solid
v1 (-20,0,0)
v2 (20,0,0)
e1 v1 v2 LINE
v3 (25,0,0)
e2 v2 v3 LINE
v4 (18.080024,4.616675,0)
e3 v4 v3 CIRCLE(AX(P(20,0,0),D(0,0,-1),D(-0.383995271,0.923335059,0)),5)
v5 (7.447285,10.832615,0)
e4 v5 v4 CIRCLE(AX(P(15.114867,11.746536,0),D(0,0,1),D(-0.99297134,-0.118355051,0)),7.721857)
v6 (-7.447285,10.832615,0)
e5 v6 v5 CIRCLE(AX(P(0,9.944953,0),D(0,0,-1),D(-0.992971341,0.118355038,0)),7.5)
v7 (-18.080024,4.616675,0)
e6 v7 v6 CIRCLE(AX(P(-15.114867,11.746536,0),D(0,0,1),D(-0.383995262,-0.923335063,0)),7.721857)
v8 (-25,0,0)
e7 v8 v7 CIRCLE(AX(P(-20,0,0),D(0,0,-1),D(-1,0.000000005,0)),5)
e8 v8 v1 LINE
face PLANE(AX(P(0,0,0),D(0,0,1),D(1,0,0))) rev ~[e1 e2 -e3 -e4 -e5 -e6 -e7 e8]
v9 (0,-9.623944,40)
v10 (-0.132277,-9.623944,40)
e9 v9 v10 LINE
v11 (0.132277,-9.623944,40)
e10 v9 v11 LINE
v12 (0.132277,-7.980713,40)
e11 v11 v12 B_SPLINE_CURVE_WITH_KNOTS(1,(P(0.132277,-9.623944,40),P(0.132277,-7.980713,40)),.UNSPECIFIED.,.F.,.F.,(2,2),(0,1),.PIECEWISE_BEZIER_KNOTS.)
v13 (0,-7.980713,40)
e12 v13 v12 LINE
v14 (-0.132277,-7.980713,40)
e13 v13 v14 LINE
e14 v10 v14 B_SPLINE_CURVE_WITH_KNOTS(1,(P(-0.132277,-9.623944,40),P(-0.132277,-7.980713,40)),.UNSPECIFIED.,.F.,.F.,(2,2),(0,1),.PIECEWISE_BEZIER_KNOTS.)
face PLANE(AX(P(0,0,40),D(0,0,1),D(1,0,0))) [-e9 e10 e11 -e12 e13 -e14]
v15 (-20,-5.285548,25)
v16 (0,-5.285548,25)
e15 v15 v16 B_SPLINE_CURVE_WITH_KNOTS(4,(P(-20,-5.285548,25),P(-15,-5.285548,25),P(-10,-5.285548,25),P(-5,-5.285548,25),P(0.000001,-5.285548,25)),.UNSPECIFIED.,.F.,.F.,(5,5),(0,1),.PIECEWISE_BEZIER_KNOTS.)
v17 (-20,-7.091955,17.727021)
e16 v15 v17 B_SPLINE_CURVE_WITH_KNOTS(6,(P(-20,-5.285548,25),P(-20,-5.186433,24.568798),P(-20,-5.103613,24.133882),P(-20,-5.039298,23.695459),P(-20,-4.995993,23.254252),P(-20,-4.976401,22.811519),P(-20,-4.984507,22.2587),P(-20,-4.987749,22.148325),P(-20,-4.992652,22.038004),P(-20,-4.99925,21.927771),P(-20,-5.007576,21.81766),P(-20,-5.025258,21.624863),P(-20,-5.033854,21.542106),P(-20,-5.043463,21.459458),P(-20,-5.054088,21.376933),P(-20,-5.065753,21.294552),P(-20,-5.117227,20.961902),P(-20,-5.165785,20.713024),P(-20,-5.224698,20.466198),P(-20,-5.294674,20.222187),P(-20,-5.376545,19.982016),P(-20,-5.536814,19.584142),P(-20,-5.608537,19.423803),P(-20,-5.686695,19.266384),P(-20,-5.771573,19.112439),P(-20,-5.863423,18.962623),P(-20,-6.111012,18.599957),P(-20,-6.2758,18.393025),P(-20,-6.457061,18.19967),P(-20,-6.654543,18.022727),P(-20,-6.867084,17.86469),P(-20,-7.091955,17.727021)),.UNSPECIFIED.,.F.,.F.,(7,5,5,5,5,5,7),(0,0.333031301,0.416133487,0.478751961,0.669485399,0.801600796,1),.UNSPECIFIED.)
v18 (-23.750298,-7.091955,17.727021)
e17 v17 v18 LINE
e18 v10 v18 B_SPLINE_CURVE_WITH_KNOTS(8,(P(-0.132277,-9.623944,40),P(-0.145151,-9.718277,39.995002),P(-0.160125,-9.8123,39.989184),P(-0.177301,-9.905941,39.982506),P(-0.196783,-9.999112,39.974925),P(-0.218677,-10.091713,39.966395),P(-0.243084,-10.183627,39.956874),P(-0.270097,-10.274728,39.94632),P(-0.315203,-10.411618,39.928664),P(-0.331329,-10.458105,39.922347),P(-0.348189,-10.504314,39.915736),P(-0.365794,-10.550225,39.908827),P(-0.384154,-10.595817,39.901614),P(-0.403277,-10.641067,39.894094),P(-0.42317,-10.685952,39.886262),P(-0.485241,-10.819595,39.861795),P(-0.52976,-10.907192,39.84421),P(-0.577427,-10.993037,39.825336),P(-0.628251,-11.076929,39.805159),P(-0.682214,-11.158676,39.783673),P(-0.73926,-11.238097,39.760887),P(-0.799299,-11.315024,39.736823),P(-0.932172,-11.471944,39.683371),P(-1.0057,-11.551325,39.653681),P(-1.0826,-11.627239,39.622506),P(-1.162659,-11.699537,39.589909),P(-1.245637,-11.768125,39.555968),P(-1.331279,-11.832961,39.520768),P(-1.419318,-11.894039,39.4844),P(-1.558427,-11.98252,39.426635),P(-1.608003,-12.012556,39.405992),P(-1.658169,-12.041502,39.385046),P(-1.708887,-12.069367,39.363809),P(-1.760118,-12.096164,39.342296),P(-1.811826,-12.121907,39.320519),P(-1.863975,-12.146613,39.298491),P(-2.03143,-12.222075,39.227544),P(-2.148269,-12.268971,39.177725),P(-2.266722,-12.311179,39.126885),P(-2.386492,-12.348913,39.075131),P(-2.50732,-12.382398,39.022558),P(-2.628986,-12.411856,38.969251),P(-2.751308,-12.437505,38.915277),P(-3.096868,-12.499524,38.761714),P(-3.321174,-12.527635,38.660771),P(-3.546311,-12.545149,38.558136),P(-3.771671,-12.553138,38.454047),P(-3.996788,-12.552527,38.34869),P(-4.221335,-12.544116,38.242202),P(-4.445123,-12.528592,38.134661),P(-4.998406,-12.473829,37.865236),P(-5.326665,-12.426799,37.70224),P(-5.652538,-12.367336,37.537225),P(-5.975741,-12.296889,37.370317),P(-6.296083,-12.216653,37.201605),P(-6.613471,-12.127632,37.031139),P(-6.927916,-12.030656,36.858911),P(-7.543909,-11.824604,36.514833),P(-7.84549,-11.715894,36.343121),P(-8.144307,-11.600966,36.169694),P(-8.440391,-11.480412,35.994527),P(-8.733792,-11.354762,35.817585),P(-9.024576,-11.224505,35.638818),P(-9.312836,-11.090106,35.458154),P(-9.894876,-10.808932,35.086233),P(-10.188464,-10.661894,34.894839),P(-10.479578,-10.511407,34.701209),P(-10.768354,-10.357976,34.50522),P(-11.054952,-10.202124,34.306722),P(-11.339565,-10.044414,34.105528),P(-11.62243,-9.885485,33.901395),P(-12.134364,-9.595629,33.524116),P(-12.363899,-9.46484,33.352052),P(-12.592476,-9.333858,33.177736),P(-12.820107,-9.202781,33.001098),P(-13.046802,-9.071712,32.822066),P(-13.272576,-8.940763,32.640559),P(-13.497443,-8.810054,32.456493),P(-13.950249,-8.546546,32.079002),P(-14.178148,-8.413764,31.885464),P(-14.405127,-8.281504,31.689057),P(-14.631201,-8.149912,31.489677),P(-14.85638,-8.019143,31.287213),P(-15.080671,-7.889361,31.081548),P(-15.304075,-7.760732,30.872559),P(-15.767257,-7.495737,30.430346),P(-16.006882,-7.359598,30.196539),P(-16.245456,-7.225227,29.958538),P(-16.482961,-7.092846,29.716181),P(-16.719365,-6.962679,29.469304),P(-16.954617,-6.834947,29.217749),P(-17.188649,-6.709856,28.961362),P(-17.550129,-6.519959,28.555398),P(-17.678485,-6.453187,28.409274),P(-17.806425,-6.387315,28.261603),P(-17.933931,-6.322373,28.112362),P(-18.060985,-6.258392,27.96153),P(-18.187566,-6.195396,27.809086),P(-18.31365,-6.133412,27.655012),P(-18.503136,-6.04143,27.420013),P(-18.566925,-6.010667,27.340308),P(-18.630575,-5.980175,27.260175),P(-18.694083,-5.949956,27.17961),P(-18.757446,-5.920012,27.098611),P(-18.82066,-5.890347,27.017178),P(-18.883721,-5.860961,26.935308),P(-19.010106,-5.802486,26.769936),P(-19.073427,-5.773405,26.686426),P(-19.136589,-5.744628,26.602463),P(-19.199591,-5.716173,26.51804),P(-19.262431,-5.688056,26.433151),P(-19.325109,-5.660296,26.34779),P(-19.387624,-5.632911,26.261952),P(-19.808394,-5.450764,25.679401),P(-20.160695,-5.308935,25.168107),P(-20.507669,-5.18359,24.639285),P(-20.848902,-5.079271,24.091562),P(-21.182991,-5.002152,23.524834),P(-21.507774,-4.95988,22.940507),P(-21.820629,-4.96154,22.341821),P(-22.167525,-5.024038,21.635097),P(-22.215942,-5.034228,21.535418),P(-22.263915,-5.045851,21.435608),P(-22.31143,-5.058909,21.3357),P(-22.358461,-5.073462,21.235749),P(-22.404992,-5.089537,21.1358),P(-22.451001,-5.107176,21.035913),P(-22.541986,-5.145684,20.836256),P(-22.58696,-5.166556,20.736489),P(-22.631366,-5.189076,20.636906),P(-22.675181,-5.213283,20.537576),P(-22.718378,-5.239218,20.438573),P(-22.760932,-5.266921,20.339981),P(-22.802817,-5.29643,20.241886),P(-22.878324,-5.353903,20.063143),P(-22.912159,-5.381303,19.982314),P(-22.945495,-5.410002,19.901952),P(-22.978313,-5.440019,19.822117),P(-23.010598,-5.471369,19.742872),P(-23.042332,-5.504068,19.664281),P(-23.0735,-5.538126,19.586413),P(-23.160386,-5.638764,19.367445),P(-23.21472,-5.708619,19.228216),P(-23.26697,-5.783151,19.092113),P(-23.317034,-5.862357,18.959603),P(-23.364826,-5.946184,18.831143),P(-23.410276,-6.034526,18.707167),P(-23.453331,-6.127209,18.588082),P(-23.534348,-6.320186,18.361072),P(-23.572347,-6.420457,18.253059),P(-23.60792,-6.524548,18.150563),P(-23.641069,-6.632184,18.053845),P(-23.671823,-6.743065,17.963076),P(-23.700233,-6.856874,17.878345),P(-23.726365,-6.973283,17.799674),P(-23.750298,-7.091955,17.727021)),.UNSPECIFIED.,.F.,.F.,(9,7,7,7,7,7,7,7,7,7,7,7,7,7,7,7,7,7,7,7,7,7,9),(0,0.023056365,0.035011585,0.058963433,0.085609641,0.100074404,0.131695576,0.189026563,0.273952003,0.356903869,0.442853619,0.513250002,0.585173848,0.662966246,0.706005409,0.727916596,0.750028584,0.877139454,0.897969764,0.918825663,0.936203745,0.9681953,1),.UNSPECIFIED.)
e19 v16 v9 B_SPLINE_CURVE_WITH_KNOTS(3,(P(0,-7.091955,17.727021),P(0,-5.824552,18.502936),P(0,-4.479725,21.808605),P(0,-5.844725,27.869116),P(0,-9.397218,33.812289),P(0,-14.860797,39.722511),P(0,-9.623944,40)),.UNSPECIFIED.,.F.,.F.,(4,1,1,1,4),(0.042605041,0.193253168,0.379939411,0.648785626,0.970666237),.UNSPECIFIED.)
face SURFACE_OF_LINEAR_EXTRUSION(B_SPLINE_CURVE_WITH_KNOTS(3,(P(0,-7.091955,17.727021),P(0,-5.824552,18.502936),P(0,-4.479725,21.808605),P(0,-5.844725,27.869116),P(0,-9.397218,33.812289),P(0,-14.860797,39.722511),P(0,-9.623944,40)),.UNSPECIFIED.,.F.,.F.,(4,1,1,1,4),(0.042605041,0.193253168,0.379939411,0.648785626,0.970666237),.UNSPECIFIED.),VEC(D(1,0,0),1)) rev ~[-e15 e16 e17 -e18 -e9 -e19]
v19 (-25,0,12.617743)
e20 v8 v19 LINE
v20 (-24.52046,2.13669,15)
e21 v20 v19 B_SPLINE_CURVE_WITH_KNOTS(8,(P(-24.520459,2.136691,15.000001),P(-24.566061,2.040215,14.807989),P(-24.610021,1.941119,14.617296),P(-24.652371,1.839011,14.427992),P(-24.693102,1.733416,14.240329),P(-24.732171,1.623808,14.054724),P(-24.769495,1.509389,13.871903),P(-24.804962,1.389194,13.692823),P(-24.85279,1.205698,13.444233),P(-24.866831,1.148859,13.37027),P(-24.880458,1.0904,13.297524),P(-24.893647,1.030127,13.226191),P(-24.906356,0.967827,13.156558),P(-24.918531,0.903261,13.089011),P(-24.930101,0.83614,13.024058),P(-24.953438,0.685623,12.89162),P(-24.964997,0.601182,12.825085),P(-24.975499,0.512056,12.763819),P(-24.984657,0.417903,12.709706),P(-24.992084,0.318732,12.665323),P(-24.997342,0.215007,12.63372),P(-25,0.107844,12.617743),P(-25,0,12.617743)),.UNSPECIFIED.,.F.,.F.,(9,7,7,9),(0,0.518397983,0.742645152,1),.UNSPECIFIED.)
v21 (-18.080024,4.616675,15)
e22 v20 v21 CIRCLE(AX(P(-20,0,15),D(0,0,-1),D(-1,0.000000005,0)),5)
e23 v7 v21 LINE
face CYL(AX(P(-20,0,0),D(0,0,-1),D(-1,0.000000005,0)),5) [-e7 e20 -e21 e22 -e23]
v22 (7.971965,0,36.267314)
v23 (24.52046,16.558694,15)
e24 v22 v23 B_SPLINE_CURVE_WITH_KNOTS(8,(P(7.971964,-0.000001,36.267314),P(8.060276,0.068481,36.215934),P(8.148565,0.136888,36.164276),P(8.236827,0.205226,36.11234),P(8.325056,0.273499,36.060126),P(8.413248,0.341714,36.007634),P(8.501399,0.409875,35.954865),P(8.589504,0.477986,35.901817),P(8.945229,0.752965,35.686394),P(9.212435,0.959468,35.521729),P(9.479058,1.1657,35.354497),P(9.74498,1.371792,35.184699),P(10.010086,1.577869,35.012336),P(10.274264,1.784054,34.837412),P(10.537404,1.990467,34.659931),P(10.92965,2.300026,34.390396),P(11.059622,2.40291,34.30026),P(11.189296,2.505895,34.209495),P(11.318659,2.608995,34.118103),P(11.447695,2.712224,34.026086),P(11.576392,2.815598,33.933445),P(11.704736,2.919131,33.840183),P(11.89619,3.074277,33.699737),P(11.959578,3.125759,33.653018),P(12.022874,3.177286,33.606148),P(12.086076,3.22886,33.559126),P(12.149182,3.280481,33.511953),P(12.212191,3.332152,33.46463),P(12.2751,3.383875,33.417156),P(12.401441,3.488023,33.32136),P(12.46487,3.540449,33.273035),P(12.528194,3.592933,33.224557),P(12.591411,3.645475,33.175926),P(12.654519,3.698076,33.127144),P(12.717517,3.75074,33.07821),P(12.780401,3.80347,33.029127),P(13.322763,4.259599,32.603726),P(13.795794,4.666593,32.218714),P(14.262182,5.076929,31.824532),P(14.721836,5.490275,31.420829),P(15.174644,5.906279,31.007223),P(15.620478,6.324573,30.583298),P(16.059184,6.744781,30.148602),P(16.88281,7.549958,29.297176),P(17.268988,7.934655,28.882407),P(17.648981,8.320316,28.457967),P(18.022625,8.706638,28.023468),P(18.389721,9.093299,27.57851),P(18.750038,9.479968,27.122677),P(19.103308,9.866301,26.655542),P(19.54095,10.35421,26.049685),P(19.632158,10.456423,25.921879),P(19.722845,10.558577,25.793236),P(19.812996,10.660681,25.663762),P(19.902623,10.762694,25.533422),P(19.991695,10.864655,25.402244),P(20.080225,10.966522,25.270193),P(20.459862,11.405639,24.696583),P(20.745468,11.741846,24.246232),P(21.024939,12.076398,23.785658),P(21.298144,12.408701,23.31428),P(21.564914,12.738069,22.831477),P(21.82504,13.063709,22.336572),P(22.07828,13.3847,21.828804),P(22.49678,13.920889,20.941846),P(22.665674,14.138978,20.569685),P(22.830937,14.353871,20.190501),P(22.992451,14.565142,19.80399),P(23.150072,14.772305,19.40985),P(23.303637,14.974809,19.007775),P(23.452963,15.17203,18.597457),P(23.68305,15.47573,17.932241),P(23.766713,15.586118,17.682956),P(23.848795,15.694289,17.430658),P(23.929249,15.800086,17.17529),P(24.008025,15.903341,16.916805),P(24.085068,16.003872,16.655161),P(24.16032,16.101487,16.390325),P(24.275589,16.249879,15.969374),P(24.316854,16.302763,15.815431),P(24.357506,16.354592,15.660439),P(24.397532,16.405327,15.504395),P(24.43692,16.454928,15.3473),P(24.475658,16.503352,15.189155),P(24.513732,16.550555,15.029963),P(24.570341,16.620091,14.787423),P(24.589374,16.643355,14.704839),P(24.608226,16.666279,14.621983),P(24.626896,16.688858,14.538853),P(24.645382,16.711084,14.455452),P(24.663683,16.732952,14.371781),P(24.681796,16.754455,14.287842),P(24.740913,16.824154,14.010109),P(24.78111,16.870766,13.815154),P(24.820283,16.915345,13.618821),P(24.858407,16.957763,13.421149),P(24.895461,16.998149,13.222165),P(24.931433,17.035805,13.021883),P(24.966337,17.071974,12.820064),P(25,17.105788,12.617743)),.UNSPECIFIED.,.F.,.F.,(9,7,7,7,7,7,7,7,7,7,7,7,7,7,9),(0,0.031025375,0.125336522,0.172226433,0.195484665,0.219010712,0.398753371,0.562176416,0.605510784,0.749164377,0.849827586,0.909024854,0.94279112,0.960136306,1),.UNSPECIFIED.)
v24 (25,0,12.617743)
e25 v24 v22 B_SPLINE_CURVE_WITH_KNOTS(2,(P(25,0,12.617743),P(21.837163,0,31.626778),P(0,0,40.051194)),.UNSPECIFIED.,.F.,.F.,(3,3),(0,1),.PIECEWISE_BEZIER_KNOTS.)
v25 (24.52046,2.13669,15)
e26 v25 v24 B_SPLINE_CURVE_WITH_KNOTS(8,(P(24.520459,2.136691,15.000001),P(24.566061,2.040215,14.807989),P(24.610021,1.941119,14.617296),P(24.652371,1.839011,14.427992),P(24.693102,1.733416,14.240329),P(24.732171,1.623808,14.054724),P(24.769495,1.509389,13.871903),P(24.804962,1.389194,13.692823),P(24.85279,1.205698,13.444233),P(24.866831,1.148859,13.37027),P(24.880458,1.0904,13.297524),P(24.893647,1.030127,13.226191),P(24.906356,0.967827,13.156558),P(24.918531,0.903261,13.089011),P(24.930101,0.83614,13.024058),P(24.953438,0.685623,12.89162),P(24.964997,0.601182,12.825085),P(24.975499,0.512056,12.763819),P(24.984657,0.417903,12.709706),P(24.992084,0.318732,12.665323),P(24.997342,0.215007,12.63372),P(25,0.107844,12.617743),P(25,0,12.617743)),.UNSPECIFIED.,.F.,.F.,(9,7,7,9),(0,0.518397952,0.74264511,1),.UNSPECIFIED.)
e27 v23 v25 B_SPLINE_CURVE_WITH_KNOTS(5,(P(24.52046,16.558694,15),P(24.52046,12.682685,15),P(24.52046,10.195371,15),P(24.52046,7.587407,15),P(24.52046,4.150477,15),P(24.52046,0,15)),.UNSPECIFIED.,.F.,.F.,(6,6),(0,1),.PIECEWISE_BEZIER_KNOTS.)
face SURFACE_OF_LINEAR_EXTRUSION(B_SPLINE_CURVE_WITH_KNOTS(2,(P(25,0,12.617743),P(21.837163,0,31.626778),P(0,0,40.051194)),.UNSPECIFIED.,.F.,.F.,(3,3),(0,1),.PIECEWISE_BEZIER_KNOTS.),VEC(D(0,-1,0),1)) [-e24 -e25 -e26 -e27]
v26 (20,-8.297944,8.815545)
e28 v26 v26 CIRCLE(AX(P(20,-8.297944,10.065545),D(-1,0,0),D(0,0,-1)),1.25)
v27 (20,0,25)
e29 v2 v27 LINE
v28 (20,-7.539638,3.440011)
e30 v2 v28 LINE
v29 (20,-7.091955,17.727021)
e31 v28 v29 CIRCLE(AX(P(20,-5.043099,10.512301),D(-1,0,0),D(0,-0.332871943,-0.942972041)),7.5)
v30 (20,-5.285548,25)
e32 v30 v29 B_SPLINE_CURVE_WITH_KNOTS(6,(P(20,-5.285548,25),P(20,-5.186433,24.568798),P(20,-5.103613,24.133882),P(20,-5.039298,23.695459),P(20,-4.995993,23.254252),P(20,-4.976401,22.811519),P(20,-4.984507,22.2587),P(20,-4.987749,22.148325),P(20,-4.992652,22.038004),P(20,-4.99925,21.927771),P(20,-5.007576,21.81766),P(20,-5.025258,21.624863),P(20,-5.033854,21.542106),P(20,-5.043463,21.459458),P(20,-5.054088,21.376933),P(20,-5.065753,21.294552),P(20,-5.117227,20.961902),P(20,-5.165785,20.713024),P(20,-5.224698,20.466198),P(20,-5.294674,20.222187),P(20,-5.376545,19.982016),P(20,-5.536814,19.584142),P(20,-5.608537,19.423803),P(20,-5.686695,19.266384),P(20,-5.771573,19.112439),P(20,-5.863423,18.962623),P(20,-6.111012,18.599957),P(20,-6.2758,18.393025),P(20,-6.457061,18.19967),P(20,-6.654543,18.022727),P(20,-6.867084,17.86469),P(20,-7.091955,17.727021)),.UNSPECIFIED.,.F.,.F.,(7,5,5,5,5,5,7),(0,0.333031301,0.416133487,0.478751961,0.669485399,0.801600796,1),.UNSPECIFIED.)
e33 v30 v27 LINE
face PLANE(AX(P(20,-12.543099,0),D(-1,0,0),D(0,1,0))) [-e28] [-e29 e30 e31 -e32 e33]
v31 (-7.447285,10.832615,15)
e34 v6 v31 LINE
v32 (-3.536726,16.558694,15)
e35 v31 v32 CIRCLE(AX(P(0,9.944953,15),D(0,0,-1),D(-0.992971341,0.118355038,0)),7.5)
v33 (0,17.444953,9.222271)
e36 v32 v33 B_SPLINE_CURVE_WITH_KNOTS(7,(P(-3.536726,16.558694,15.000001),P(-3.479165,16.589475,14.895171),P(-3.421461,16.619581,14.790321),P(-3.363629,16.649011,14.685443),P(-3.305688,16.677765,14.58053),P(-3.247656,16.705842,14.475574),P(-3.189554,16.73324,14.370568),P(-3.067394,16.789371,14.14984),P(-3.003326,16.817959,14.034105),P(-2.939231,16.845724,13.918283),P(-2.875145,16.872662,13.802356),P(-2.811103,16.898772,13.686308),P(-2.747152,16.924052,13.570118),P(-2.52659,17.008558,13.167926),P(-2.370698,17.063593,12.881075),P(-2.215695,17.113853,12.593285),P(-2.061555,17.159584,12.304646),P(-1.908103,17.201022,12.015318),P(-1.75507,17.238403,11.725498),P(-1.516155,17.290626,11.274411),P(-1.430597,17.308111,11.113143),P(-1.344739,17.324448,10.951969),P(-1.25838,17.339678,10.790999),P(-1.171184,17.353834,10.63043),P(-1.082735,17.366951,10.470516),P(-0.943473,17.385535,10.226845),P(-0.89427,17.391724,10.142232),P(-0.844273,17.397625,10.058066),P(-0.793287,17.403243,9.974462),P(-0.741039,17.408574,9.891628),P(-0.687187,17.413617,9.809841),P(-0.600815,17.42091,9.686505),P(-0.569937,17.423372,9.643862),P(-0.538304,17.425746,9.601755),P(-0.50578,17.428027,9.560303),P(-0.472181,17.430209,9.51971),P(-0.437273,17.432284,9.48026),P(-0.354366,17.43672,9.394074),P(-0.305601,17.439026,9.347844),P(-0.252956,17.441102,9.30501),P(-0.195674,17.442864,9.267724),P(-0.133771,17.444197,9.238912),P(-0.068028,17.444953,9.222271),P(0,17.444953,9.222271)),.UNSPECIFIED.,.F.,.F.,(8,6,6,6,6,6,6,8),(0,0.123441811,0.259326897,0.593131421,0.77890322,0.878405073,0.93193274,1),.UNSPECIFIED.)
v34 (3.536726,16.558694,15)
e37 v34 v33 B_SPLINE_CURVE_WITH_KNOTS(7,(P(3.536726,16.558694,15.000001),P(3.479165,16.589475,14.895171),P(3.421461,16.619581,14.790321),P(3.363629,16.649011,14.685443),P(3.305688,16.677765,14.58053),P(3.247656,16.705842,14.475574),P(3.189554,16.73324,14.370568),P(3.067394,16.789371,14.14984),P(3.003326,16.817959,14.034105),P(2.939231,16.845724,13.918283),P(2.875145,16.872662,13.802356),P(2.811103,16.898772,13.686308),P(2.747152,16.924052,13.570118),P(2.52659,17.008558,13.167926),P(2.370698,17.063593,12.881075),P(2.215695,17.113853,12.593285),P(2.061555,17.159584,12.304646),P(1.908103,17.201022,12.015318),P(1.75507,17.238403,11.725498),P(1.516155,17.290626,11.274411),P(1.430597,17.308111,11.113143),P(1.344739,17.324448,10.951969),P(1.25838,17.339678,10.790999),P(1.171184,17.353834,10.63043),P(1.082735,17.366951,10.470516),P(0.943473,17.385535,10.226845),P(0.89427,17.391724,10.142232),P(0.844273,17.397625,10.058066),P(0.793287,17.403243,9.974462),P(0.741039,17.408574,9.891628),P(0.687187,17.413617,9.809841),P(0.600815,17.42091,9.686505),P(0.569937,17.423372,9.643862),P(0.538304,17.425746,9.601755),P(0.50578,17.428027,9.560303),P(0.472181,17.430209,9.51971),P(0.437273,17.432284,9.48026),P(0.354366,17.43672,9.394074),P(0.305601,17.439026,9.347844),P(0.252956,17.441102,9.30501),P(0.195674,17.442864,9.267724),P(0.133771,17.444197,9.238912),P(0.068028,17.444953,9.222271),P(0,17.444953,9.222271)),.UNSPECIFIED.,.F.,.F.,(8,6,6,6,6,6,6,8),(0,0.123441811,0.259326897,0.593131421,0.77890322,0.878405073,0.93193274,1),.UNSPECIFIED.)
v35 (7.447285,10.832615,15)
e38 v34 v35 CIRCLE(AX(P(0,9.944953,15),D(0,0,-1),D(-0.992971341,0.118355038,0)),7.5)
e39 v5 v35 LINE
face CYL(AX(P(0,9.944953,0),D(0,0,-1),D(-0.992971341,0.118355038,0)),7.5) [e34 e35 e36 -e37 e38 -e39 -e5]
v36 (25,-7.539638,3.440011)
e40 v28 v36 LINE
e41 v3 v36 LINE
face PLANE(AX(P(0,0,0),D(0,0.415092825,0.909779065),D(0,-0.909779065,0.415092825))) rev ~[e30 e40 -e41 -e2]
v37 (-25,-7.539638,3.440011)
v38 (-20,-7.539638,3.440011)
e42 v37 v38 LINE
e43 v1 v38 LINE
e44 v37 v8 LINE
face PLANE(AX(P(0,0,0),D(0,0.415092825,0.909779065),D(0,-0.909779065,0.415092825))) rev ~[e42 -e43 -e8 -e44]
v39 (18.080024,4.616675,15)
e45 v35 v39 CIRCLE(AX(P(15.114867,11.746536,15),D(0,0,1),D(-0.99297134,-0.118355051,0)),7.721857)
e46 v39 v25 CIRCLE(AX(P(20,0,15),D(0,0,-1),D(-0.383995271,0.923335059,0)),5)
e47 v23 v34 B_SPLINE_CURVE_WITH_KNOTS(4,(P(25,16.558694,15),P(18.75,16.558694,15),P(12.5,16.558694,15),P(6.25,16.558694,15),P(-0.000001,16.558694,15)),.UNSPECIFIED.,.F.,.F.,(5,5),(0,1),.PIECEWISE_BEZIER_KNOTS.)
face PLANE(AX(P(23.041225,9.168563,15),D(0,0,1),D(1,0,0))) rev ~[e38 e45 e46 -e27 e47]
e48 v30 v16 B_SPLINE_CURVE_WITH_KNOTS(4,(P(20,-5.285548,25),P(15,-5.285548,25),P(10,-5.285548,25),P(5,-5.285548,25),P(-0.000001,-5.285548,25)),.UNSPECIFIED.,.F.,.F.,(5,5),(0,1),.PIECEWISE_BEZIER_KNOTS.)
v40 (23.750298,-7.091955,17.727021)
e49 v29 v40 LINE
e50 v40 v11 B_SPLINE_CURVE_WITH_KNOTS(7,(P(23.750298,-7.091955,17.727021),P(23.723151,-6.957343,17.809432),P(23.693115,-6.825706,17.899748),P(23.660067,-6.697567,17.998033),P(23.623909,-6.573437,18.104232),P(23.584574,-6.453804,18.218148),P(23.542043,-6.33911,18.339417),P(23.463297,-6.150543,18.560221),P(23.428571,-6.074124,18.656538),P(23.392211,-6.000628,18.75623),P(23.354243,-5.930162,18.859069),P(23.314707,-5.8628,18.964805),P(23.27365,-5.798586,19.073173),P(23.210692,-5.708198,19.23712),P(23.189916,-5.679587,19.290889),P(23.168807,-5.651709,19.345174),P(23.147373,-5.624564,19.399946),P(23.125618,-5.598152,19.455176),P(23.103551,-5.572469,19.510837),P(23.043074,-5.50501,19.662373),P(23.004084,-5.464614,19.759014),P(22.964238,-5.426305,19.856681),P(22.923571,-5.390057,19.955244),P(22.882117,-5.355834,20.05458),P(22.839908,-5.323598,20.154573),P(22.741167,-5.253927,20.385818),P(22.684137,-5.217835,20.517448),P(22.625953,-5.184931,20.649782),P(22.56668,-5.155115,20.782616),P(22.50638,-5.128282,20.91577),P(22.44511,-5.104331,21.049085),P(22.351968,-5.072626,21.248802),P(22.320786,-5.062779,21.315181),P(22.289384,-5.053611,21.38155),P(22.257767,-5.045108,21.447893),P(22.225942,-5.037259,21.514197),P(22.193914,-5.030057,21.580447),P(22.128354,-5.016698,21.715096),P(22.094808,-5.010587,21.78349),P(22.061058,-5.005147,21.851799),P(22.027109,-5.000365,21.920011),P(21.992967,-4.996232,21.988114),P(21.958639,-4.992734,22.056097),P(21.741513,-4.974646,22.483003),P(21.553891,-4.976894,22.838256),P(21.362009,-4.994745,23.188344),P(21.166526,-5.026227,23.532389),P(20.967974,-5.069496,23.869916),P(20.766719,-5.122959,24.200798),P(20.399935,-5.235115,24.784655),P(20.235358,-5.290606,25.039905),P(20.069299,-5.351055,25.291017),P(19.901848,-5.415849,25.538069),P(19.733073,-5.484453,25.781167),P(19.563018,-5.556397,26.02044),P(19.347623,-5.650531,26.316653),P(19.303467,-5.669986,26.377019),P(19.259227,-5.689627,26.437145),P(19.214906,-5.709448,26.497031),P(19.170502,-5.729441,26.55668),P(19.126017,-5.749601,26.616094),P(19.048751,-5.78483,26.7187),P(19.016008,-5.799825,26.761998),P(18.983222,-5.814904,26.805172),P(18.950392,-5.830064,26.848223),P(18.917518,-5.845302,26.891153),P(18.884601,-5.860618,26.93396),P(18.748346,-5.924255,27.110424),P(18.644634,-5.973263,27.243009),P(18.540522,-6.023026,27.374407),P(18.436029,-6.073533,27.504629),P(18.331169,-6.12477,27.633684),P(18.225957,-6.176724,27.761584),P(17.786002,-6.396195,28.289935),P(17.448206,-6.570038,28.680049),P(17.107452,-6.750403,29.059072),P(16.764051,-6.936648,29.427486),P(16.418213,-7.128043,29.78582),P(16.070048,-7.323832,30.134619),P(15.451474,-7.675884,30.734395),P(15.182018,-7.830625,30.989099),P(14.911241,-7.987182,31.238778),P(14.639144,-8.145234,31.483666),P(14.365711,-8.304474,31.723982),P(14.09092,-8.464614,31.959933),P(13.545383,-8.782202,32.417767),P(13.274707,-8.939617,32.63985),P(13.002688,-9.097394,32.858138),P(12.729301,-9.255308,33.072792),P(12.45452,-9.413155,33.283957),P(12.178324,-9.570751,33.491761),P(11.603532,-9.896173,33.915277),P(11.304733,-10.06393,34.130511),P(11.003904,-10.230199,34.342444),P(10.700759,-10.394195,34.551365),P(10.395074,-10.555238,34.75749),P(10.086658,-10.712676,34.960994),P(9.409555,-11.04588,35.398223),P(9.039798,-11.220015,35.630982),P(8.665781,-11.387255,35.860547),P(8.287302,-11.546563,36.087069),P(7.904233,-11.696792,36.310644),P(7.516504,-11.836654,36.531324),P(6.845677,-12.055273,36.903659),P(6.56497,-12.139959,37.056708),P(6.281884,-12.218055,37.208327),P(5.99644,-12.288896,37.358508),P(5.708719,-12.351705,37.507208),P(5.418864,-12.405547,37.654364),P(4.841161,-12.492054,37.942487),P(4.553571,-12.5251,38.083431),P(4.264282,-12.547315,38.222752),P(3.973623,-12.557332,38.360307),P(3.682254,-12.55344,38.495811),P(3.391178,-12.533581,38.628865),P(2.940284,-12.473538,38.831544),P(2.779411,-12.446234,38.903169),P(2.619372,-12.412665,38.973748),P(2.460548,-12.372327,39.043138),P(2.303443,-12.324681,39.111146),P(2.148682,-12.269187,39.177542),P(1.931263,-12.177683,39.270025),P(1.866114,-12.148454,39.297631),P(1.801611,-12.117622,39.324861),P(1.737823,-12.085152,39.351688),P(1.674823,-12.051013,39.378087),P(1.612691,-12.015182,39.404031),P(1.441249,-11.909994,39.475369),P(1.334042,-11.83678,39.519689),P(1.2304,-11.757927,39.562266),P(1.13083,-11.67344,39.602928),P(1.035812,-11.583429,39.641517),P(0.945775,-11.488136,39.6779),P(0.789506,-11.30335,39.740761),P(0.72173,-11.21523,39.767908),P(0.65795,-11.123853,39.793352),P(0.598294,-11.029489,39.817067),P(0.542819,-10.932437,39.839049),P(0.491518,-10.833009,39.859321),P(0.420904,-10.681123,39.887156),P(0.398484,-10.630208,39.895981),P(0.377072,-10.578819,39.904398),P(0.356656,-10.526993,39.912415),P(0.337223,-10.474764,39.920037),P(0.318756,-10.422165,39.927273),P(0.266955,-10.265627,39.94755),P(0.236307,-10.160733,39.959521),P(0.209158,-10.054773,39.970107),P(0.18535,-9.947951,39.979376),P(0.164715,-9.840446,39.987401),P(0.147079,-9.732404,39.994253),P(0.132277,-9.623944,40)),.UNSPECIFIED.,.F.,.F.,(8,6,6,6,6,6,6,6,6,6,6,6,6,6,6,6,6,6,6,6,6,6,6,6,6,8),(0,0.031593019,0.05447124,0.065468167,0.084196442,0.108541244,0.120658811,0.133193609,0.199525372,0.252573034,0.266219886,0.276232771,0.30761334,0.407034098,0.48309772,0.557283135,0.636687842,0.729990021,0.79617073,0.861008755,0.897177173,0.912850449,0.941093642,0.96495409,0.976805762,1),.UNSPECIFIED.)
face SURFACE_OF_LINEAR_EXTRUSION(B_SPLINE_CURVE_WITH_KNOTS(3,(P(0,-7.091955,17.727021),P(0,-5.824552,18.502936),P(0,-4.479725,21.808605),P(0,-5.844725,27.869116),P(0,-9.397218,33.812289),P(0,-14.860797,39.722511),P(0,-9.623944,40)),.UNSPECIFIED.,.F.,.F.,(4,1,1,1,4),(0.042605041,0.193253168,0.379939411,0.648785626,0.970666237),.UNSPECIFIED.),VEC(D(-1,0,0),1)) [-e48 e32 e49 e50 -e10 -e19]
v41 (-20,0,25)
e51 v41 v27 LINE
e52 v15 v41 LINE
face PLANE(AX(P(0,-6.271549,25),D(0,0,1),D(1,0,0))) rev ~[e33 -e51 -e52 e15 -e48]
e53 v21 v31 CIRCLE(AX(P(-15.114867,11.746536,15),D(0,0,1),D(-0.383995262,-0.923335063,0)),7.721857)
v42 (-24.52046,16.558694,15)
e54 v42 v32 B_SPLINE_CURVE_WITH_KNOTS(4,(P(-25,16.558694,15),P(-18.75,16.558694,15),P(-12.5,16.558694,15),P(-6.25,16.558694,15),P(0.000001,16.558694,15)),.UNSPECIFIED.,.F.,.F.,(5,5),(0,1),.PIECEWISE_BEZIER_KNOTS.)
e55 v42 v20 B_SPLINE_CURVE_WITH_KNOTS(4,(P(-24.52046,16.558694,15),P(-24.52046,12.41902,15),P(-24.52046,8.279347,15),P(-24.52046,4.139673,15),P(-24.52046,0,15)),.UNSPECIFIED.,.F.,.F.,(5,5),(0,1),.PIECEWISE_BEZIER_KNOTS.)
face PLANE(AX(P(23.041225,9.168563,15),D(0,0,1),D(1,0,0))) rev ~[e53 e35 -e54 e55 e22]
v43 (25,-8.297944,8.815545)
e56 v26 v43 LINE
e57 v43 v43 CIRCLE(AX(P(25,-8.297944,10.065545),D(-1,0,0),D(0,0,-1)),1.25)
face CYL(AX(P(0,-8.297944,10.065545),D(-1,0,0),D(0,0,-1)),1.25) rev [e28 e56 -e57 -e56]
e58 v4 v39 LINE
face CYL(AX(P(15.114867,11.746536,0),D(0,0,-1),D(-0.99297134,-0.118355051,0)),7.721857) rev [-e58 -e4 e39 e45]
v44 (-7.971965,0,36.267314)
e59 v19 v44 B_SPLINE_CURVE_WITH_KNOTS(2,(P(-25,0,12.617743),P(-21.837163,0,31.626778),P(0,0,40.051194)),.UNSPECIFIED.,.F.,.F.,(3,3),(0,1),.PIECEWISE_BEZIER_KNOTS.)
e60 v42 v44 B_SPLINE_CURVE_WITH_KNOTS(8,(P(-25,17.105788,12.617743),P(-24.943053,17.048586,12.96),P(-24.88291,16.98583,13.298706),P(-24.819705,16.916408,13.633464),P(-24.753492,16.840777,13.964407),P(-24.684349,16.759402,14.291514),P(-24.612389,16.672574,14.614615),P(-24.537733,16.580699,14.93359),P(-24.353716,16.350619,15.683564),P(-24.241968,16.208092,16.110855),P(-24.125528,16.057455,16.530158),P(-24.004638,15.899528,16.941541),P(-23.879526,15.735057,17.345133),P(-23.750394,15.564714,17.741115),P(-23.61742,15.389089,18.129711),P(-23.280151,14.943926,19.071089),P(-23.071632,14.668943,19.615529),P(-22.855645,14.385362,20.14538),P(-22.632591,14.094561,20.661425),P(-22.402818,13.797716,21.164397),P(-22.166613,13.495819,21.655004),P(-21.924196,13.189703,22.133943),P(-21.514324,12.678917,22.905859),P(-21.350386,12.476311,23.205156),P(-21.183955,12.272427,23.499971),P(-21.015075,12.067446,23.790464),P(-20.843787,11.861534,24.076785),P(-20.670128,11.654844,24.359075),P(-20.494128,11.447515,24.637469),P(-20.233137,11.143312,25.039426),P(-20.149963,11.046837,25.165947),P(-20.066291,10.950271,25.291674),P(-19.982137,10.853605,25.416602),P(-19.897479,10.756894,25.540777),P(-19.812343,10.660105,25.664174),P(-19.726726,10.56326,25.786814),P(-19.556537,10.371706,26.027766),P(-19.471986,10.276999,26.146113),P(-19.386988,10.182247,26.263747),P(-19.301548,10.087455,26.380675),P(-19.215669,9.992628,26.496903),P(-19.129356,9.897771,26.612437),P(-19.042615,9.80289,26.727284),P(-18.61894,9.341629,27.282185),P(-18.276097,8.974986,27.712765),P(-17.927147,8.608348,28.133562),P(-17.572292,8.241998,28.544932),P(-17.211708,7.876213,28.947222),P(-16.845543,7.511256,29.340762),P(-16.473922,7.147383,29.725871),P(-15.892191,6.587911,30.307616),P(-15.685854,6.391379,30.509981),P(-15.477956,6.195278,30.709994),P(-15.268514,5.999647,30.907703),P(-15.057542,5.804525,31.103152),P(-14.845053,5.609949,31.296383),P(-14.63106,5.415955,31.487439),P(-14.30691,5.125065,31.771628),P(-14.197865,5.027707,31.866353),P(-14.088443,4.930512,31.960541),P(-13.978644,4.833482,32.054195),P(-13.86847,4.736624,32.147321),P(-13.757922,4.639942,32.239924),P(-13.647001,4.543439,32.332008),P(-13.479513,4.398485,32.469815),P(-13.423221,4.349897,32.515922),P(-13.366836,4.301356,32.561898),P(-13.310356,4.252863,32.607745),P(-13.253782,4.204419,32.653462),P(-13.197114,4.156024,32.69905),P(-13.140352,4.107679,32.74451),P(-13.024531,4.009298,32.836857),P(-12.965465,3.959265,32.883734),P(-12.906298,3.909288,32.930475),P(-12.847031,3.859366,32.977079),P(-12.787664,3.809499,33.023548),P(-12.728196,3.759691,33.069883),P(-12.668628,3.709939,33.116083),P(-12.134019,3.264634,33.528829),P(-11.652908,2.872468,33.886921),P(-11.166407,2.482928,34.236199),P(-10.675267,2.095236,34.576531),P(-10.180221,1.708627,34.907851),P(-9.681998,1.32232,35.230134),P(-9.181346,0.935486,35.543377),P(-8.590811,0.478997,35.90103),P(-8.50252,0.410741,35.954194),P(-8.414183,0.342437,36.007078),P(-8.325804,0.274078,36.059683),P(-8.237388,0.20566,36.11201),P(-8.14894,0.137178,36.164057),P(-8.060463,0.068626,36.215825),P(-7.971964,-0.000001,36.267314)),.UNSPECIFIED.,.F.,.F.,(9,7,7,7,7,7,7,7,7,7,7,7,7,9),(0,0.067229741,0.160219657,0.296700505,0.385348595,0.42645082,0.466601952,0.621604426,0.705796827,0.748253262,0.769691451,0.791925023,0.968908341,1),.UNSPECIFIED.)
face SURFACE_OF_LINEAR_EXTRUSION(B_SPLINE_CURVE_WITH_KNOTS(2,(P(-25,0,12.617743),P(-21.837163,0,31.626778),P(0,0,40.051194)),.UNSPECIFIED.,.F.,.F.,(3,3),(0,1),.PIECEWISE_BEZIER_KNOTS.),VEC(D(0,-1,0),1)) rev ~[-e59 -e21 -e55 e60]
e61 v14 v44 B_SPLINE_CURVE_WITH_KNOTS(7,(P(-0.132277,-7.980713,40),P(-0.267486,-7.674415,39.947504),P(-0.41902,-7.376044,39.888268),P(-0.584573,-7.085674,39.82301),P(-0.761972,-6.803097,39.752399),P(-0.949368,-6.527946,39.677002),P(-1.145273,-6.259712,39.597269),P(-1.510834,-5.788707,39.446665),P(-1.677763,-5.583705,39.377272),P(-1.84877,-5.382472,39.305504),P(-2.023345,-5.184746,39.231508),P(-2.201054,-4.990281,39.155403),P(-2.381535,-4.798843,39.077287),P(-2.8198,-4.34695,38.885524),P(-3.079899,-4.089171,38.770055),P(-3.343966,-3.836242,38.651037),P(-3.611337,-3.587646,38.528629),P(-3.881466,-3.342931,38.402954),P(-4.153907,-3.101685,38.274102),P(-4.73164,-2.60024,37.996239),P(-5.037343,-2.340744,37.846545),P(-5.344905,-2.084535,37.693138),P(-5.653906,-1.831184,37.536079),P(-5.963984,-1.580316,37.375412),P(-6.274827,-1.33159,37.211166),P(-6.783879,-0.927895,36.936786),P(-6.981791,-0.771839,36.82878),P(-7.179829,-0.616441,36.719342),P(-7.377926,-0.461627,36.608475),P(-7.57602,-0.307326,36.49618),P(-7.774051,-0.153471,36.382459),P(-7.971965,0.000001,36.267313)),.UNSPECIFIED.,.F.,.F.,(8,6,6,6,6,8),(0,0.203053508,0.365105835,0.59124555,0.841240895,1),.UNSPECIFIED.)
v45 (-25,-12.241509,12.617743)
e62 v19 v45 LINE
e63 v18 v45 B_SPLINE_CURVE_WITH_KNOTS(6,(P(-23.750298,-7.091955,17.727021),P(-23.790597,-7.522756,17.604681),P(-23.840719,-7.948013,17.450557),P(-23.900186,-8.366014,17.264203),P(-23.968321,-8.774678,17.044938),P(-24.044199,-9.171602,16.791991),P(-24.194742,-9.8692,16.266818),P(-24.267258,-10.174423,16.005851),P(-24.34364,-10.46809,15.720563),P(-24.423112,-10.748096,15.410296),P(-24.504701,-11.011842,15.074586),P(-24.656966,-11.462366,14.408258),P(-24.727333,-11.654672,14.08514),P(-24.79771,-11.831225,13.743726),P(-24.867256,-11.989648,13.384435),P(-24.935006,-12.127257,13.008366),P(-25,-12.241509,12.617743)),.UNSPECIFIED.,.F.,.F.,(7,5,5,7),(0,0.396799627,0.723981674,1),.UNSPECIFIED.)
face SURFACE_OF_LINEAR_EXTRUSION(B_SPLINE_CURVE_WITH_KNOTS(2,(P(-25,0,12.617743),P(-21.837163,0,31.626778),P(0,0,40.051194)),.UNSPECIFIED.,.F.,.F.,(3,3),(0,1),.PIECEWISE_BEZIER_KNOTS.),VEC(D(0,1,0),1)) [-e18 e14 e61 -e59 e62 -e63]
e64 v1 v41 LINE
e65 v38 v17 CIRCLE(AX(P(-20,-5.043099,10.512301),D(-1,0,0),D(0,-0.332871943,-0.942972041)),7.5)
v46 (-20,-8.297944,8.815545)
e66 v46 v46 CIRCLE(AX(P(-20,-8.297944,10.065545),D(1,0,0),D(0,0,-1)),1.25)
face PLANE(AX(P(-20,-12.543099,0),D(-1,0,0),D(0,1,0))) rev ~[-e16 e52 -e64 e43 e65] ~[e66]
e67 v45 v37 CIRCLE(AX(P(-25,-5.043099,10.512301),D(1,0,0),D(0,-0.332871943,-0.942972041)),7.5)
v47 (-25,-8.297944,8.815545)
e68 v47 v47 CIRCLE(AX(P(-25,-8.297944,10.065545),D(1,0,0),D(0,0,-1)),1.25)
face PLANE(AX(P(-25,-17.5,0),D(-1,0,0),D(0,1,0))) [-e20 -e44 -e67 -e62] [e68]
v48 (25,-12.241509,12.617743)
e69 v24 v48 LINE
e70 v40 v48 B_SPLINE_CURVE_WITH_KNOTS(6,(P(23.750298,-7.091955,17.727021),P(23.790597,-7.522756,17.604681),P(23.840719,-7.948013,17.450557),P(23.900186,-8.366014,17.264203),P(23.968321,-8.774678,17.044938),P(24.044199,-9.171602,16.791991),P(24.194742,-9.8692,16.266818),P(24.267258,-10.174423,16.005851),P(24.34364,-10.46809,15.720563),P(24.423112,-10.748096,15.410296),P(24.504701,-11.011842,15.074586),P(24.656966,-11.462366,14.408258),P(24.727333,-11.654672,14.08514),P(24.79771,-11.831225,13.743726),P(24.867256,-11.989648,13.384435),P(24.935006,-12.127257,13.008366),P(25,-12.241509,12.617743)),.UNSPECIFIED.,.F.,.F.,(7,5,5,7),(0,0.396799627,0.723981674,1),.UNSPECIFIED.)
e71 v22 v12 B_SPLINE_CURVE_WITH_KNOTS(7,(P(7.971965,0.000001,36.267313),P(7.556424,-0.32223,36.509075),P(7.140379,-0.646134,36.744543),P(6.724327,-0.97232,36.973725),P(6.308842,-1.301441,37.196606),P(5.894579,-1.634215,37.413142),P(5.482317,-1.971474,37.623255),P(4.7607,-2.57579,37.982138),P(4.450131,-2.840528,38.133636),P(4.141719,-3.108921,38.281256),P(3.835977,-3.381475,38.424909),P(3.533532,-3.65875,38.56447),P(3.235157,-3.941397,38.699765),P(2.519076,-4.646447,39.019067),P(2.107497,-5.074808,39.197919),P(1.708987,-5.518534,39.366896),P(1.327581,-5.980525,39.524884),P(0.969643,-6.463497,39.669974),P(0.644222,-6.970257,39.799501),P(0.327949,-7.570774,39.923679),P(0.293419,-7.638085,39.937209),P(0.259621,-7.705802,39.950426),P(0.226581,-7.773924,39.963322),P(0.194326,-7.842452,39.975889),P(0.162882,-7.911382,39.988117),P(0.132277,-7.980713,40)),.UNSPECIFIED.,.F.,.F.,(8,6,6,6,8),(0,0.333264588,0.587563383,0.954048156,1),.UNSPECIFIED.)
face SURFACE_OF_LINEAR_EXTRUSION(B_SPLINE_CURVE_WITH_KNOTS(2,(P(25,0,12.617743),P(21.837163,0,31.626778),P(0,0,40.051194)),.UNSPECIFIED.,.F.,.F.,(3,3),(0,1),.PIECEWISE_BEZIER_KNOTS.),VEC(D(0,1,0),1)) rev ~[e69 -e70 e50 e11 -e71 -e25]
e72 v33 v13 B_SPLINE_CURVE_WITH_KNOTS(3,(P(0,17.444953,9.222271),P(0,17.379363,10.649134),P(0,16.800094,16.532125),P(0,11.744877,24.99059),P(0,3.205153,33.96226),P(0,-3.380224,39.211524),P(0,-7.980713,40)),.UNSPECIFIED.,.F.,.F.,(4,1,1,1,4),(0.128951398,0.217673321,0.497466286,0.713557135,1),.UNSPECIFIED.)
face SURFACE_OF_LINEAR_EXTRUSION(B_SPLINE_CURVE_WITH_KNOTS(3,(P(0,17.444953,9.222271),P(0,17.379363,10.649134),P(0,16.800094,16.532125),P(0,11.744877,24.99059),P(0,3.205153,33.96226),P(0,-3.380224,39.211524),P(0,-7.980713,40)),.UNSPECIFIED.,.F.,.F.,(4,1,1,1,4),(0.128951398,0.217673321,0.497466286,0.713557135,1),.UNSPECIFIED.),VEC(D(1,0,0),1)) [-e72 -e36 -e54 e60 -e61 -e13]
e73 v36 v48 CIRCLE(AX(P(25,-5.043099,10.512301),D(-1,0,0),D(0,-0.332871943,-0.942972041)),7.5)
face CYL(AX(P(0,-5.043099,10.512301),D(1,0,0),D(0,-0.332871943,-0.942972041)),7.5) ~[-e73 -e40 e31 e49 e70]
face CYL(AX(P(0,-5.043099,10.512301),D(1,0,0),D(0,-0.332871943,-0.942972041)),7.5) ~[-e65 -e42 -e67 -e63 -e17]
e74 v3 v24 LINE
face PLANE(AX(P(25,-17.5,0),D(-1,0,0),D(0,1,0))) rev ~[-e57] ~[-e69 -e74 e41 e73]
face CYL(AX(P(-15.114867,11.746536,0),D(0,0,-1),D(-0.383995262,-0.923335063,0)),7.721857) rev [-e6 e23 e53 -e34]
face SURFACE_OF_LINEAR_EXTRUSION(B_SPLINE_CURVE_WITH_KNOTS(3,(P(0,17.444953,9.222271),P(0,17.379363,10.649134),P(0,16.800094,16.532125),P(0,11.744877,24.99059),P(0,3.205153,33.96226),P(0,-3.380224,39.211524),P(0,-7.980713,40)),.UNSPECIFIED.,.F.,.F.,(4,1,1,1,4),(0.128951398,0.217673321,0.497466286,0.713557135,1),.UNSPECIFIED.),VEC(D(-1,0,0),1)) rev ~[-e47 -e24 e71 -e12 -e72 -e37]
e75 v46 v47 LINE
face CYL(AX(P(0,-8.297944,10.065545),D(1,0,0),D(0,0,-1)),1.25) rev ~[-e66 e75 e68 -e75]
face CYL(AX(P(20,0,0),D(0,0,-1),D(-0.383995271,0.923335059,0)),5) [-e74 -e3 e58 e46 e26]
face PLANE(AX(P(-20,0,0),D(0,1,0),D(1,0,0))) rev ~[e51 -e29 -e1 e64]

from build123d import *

# Parameters (mm, degrees)
SKETCH1_W                = 50
SKETCH1_H                = 35
BOSS_EXTRUDE1_DEPTH      = 40
CUT_EXTRUDE3_DEPTH       = 15
CUT_EXTRUDE6_DEPTH       = 51.311529494
CUT_EXTRUDE6_DEPTH_BACK  = 51.311529494
CUT_EXTRUDE8_DEPTH       = 51.292408862
CUT_EXTRUDE8_DEPTH_BACK  = 51.292408862
SKETCH6_W                = 40
SKETCH6_H                = 12.54309885
CUT_EXTRUDE9_DEPTH       = 25
SKETCH7_R                = 1.25
CUT_EXTRUDE10_DEPTH      = 51.292408862
CUT_EXTRUDE10_DEPTH_BACK = 51.292408862


with BuildPart() as part:
    # Sketch1 → Boss-Extrude1 (new body)
    with BuildSketch(Plane.XY):
        Rectangle(SKETCH1_W, SKETCH1_H)
    extrude(amount=BOSS_EXTRUDE1_DEPTH)

    # Sketch3 → Cut-Extrude3 (cut)
    with BuildSketch(Plane.XY):
        with BuildLine():
            ThreePointArc((18.080023646, 4.616675297), (22.774898037, 4.159319762), (25, 0))
            Line((25, 0), (25, 17.5))
            Line((25, 17.5), (20.265083079, 17.5))
            ThreePointArc((20.265083079, 17.5), (22.164558634, 14.89755515), (22.836723839, 11.746536186))
            ThreePointArc((22.836723839, 11.746536186), (21.538401387, 7.461063254), (18.080023646, 4.616675297))
        make_face()
        with BuildLine():
            ThreePointArc((9.964651512, 17.5), (7.890776302, 14.474095131), (7.447285057, 10.832615462))
            ThreePointArc((7.447285057, 10.832615462), (11.217729841, 5.080248753), (18.080023646, 4.616675297))
            ThreePointArc((18.080023646, 4.616675297), (21.538401387, 7.461063254), (22.836723839, 11.746536186))
            ThreePointArc((22.836723839, 11.746536186), (22.164558634, 14.89755515), (20.265083079, 17.5))
            Line((20.265083079, 17.5), (9.964651512, 17.5))
        make_face()
        with BuildLine():
            ThreePointArc((20.265083079, 17.5), (15.114867296, 19.46839273), (9.964651512, 17.5))
            Line((9.964651512, 17.5), (20.265083079, 17.5))
        make_face()
        with BuildLine():
            ThreePointArc((-7.393010752, 11.746536186), (-7.406591271, 11.28877073), (-7.447285061, 10.832615429))
            ThreePointArc((-7.447285061, 10.832615429), (-1.7e-08, 17.444952642), (7.447285057, 10.832615462))
            ThreePointArc((7.447285057, 10.832615462), (7.890776302, 14.474095131), (9.964651512, 17.5))
            Line((9.964651512, 17.5), (-9.964651512, 17.5))
            ThreePointArc((-9.964651512, 17.5), (-8.065175957, 14.89755515), (-7.393010752, 11.746536186))
        make_face()
        with BuildLine():
            ThreePointArc((-20.265083079, 17.5), (-22.728002657, 10.455320307), (-18.080023619, 4.616675286))
            ThreePointArc((-18.080023619, 4.616675286), (-11.217729842, 5.080248753), (-7.447285061, 10.832615429))
            ThreePointArc((-7.447285061, 10.832615429), (-7.406591271, 11.28877073), (-7.393010752, 11.746536186))
            ThreePointArc((-7.393010752, 11.746536186), (-8.065175957, 14.89755515), (-9.964651512, 17.5))
            Line((-9.964651512, 17.5), (-20.265083079, 17.5))
        make_face()
        with BuildLine():
            ThreePointArc((-9.964651512, 17.5), (-15.114867296, 19.46839273), (-20.265083079, 17.5))
            Line((-20.265083079, 17.5), (-9.964651512, 17.5))
        make_face()
        with BuildLine():
            Line((-25, 17.5), (-25, 2.5e-08))
            ThreePointArc((-25, 2.5e-08), (-22.774898014, 4.159319778), (-18.080023619, 4.616675286))
            ThreePointArc((-18.080023619, 4.616675286), (-22.728002657, 10.455320307), (-20.265083079, 17.5))
            Line((-20.265083079, 17.5), (-25, 17.5))
        make_face()
    extrude(amount=CUT_EXTRUDE3_DEPTH, mode=Mode.SUBTRACT)

    # Sketch4 → Cut-Extrude6 (cut, two sides)
    with BuildSketch(Plane(origin=(0, 0, 0), x_dir=(0, 0, -1), z_dir=(1, 0, 0))) as cut_extrude6_sk:
        with BuildLine():
            add(Edge.make_bspline(
                [(-9.222271241, 17.444952642), (-10.649134008, 17.379362556), (-16.532124994, 16.800094175), (-24.99058992, 11.744877304), (-33.962260097, 3.205152878), (-39.211523546, -3.38022438), (-40, -7.980712731)],
                knots=[0.128951398, 0.128951398, 0.128951398, 0.128951398, 0.217673321, 0.497466286, 0.713557135, 1, 1, 1, 1], degree=3))
            Line((-9.222271241, 17.444952642), (-40, 17.444952642))
            Line((-40, 17.444952642), (-40, -7.980712731))
        make_face()
        with BuildLine():
            Line((0, 0), (-3.44001081, -7.539638425))
            ThreePointArc((-3.44001081, -7.539638425), (-10.74719823, -12.539419504), (-17.727021343, -7.091955125))
            add(Edge.make_bspline(
                [(-17.727021343, -7.091955125), (-18.502936425, -5.824551955), (-21.808604968, -4.479724911), (-27.869116221, -5.844724863), (-33.812288914, -9.39721757), (-39.72251086, -14.860797268), (-40, -9.623944384)],
                knots=[0.042605041, 0.042605041, 0.042605041, 0.042605041, 0.193253168, 0.379939411, 0.648785626, 0.970666237, 0.970666237, 0.970666237, 0.970666237], degree=3))
            Line((-40, -9.623944384), (-40, -17.5))
            Line((-40, -17.5), (0, -17.5))
            Line((0, -17.5), (0, 0))
        make_face()
    extrude(amount=CUT_EXTRUDE6_DEPTH, mode=Mode.SUBTRACT)
    extrude(cut_extrude6_sk.sketch, amount=-CUT_EXTRUDE6_DEPTH_BACK, mode=Mode.SUBTRACT)


with BuildPart() as cut_extrude6_kept_piece:
    # of the separate pieces the step leaves, the one the design keeps (cut_extrude6_pieces_kept)
    add(part.part.solids().sort_by_distance((-7.447285061, 10.832615429, 15))[0])

    # Sketch5 → Cut-Extrude8 (cut, two sides)
    with BuildSketch(Plane(origin=(0, 0, 0), x_dir=(1, 0, 0), z_dir=(0, 1, 0))) as cut_extrude8_sk:
        with BuildLine():
            add(Edge.make_bspline(
                [(-25, -12.617742903), (-21.837163113, -31.626777816), (0, -40.051194025)],
                knots=[0, 0, 0, 1, 1, 1], degree=2))
            Line((0, -40.051194025), (-25, -40))
            Line((-25, -40), (-25, -12.617742903))
        make_face()
        with BuildLine():
            Line((25, -40), (25, -12.617742903))
            add(Edge.make_bspline(
                [(25, -12.617742903), (21.837163113, -31.626777816), (0, -40.051194025)],
                knots=[0, 0, 0, 1, 1, 1], degree=2))
            Line((0, -40.051194025), (25, -40))
        make_face()
    extrude(amount=CUT_EXTRUDE8_DEPTH, mode=Mode.SUBTRACT)
    extrude(cut_extrude8_sk.sketch, amount=-CUT_EXTRUDE8_DEPTH_BACK, mode=Mode.SUBTRACT)

    # Sketch6 → Cut-Extrude9 (cut)
    with BuildSketch(Plane.XY):
        with Locations((0, -6.271549425)):
            Rectangle(SKETCH6_W, SKETCH6_H)
    extrude(amount=CUT_EXTRUDE9_DEPTH, mode=Mode.SUBTRACT)

    # Sketch7 → Cut-Extrude10 (cut, two sides)
    with BuildSketch(Plane(origin=(0, 0, 0), x_dir=(0, 0, -1), z_dir=(1, 0, 0))) as cut_extrude10_sk:
        with Locations((-10.065545273, -8.297943519)):
            Circle(SKETCH7_R)
    extrude(amount=CUT_EXTRUDE10_DEPTH, mode=Mode.SUBTRACT)
    extrude(cut_extrude10_sk.sketch, amount=-CUT_EXTRUDE10_DEPTH_BACK, mode=Mode.SUBTRACT)


solid = cut_extrude6_kept_piece.part
